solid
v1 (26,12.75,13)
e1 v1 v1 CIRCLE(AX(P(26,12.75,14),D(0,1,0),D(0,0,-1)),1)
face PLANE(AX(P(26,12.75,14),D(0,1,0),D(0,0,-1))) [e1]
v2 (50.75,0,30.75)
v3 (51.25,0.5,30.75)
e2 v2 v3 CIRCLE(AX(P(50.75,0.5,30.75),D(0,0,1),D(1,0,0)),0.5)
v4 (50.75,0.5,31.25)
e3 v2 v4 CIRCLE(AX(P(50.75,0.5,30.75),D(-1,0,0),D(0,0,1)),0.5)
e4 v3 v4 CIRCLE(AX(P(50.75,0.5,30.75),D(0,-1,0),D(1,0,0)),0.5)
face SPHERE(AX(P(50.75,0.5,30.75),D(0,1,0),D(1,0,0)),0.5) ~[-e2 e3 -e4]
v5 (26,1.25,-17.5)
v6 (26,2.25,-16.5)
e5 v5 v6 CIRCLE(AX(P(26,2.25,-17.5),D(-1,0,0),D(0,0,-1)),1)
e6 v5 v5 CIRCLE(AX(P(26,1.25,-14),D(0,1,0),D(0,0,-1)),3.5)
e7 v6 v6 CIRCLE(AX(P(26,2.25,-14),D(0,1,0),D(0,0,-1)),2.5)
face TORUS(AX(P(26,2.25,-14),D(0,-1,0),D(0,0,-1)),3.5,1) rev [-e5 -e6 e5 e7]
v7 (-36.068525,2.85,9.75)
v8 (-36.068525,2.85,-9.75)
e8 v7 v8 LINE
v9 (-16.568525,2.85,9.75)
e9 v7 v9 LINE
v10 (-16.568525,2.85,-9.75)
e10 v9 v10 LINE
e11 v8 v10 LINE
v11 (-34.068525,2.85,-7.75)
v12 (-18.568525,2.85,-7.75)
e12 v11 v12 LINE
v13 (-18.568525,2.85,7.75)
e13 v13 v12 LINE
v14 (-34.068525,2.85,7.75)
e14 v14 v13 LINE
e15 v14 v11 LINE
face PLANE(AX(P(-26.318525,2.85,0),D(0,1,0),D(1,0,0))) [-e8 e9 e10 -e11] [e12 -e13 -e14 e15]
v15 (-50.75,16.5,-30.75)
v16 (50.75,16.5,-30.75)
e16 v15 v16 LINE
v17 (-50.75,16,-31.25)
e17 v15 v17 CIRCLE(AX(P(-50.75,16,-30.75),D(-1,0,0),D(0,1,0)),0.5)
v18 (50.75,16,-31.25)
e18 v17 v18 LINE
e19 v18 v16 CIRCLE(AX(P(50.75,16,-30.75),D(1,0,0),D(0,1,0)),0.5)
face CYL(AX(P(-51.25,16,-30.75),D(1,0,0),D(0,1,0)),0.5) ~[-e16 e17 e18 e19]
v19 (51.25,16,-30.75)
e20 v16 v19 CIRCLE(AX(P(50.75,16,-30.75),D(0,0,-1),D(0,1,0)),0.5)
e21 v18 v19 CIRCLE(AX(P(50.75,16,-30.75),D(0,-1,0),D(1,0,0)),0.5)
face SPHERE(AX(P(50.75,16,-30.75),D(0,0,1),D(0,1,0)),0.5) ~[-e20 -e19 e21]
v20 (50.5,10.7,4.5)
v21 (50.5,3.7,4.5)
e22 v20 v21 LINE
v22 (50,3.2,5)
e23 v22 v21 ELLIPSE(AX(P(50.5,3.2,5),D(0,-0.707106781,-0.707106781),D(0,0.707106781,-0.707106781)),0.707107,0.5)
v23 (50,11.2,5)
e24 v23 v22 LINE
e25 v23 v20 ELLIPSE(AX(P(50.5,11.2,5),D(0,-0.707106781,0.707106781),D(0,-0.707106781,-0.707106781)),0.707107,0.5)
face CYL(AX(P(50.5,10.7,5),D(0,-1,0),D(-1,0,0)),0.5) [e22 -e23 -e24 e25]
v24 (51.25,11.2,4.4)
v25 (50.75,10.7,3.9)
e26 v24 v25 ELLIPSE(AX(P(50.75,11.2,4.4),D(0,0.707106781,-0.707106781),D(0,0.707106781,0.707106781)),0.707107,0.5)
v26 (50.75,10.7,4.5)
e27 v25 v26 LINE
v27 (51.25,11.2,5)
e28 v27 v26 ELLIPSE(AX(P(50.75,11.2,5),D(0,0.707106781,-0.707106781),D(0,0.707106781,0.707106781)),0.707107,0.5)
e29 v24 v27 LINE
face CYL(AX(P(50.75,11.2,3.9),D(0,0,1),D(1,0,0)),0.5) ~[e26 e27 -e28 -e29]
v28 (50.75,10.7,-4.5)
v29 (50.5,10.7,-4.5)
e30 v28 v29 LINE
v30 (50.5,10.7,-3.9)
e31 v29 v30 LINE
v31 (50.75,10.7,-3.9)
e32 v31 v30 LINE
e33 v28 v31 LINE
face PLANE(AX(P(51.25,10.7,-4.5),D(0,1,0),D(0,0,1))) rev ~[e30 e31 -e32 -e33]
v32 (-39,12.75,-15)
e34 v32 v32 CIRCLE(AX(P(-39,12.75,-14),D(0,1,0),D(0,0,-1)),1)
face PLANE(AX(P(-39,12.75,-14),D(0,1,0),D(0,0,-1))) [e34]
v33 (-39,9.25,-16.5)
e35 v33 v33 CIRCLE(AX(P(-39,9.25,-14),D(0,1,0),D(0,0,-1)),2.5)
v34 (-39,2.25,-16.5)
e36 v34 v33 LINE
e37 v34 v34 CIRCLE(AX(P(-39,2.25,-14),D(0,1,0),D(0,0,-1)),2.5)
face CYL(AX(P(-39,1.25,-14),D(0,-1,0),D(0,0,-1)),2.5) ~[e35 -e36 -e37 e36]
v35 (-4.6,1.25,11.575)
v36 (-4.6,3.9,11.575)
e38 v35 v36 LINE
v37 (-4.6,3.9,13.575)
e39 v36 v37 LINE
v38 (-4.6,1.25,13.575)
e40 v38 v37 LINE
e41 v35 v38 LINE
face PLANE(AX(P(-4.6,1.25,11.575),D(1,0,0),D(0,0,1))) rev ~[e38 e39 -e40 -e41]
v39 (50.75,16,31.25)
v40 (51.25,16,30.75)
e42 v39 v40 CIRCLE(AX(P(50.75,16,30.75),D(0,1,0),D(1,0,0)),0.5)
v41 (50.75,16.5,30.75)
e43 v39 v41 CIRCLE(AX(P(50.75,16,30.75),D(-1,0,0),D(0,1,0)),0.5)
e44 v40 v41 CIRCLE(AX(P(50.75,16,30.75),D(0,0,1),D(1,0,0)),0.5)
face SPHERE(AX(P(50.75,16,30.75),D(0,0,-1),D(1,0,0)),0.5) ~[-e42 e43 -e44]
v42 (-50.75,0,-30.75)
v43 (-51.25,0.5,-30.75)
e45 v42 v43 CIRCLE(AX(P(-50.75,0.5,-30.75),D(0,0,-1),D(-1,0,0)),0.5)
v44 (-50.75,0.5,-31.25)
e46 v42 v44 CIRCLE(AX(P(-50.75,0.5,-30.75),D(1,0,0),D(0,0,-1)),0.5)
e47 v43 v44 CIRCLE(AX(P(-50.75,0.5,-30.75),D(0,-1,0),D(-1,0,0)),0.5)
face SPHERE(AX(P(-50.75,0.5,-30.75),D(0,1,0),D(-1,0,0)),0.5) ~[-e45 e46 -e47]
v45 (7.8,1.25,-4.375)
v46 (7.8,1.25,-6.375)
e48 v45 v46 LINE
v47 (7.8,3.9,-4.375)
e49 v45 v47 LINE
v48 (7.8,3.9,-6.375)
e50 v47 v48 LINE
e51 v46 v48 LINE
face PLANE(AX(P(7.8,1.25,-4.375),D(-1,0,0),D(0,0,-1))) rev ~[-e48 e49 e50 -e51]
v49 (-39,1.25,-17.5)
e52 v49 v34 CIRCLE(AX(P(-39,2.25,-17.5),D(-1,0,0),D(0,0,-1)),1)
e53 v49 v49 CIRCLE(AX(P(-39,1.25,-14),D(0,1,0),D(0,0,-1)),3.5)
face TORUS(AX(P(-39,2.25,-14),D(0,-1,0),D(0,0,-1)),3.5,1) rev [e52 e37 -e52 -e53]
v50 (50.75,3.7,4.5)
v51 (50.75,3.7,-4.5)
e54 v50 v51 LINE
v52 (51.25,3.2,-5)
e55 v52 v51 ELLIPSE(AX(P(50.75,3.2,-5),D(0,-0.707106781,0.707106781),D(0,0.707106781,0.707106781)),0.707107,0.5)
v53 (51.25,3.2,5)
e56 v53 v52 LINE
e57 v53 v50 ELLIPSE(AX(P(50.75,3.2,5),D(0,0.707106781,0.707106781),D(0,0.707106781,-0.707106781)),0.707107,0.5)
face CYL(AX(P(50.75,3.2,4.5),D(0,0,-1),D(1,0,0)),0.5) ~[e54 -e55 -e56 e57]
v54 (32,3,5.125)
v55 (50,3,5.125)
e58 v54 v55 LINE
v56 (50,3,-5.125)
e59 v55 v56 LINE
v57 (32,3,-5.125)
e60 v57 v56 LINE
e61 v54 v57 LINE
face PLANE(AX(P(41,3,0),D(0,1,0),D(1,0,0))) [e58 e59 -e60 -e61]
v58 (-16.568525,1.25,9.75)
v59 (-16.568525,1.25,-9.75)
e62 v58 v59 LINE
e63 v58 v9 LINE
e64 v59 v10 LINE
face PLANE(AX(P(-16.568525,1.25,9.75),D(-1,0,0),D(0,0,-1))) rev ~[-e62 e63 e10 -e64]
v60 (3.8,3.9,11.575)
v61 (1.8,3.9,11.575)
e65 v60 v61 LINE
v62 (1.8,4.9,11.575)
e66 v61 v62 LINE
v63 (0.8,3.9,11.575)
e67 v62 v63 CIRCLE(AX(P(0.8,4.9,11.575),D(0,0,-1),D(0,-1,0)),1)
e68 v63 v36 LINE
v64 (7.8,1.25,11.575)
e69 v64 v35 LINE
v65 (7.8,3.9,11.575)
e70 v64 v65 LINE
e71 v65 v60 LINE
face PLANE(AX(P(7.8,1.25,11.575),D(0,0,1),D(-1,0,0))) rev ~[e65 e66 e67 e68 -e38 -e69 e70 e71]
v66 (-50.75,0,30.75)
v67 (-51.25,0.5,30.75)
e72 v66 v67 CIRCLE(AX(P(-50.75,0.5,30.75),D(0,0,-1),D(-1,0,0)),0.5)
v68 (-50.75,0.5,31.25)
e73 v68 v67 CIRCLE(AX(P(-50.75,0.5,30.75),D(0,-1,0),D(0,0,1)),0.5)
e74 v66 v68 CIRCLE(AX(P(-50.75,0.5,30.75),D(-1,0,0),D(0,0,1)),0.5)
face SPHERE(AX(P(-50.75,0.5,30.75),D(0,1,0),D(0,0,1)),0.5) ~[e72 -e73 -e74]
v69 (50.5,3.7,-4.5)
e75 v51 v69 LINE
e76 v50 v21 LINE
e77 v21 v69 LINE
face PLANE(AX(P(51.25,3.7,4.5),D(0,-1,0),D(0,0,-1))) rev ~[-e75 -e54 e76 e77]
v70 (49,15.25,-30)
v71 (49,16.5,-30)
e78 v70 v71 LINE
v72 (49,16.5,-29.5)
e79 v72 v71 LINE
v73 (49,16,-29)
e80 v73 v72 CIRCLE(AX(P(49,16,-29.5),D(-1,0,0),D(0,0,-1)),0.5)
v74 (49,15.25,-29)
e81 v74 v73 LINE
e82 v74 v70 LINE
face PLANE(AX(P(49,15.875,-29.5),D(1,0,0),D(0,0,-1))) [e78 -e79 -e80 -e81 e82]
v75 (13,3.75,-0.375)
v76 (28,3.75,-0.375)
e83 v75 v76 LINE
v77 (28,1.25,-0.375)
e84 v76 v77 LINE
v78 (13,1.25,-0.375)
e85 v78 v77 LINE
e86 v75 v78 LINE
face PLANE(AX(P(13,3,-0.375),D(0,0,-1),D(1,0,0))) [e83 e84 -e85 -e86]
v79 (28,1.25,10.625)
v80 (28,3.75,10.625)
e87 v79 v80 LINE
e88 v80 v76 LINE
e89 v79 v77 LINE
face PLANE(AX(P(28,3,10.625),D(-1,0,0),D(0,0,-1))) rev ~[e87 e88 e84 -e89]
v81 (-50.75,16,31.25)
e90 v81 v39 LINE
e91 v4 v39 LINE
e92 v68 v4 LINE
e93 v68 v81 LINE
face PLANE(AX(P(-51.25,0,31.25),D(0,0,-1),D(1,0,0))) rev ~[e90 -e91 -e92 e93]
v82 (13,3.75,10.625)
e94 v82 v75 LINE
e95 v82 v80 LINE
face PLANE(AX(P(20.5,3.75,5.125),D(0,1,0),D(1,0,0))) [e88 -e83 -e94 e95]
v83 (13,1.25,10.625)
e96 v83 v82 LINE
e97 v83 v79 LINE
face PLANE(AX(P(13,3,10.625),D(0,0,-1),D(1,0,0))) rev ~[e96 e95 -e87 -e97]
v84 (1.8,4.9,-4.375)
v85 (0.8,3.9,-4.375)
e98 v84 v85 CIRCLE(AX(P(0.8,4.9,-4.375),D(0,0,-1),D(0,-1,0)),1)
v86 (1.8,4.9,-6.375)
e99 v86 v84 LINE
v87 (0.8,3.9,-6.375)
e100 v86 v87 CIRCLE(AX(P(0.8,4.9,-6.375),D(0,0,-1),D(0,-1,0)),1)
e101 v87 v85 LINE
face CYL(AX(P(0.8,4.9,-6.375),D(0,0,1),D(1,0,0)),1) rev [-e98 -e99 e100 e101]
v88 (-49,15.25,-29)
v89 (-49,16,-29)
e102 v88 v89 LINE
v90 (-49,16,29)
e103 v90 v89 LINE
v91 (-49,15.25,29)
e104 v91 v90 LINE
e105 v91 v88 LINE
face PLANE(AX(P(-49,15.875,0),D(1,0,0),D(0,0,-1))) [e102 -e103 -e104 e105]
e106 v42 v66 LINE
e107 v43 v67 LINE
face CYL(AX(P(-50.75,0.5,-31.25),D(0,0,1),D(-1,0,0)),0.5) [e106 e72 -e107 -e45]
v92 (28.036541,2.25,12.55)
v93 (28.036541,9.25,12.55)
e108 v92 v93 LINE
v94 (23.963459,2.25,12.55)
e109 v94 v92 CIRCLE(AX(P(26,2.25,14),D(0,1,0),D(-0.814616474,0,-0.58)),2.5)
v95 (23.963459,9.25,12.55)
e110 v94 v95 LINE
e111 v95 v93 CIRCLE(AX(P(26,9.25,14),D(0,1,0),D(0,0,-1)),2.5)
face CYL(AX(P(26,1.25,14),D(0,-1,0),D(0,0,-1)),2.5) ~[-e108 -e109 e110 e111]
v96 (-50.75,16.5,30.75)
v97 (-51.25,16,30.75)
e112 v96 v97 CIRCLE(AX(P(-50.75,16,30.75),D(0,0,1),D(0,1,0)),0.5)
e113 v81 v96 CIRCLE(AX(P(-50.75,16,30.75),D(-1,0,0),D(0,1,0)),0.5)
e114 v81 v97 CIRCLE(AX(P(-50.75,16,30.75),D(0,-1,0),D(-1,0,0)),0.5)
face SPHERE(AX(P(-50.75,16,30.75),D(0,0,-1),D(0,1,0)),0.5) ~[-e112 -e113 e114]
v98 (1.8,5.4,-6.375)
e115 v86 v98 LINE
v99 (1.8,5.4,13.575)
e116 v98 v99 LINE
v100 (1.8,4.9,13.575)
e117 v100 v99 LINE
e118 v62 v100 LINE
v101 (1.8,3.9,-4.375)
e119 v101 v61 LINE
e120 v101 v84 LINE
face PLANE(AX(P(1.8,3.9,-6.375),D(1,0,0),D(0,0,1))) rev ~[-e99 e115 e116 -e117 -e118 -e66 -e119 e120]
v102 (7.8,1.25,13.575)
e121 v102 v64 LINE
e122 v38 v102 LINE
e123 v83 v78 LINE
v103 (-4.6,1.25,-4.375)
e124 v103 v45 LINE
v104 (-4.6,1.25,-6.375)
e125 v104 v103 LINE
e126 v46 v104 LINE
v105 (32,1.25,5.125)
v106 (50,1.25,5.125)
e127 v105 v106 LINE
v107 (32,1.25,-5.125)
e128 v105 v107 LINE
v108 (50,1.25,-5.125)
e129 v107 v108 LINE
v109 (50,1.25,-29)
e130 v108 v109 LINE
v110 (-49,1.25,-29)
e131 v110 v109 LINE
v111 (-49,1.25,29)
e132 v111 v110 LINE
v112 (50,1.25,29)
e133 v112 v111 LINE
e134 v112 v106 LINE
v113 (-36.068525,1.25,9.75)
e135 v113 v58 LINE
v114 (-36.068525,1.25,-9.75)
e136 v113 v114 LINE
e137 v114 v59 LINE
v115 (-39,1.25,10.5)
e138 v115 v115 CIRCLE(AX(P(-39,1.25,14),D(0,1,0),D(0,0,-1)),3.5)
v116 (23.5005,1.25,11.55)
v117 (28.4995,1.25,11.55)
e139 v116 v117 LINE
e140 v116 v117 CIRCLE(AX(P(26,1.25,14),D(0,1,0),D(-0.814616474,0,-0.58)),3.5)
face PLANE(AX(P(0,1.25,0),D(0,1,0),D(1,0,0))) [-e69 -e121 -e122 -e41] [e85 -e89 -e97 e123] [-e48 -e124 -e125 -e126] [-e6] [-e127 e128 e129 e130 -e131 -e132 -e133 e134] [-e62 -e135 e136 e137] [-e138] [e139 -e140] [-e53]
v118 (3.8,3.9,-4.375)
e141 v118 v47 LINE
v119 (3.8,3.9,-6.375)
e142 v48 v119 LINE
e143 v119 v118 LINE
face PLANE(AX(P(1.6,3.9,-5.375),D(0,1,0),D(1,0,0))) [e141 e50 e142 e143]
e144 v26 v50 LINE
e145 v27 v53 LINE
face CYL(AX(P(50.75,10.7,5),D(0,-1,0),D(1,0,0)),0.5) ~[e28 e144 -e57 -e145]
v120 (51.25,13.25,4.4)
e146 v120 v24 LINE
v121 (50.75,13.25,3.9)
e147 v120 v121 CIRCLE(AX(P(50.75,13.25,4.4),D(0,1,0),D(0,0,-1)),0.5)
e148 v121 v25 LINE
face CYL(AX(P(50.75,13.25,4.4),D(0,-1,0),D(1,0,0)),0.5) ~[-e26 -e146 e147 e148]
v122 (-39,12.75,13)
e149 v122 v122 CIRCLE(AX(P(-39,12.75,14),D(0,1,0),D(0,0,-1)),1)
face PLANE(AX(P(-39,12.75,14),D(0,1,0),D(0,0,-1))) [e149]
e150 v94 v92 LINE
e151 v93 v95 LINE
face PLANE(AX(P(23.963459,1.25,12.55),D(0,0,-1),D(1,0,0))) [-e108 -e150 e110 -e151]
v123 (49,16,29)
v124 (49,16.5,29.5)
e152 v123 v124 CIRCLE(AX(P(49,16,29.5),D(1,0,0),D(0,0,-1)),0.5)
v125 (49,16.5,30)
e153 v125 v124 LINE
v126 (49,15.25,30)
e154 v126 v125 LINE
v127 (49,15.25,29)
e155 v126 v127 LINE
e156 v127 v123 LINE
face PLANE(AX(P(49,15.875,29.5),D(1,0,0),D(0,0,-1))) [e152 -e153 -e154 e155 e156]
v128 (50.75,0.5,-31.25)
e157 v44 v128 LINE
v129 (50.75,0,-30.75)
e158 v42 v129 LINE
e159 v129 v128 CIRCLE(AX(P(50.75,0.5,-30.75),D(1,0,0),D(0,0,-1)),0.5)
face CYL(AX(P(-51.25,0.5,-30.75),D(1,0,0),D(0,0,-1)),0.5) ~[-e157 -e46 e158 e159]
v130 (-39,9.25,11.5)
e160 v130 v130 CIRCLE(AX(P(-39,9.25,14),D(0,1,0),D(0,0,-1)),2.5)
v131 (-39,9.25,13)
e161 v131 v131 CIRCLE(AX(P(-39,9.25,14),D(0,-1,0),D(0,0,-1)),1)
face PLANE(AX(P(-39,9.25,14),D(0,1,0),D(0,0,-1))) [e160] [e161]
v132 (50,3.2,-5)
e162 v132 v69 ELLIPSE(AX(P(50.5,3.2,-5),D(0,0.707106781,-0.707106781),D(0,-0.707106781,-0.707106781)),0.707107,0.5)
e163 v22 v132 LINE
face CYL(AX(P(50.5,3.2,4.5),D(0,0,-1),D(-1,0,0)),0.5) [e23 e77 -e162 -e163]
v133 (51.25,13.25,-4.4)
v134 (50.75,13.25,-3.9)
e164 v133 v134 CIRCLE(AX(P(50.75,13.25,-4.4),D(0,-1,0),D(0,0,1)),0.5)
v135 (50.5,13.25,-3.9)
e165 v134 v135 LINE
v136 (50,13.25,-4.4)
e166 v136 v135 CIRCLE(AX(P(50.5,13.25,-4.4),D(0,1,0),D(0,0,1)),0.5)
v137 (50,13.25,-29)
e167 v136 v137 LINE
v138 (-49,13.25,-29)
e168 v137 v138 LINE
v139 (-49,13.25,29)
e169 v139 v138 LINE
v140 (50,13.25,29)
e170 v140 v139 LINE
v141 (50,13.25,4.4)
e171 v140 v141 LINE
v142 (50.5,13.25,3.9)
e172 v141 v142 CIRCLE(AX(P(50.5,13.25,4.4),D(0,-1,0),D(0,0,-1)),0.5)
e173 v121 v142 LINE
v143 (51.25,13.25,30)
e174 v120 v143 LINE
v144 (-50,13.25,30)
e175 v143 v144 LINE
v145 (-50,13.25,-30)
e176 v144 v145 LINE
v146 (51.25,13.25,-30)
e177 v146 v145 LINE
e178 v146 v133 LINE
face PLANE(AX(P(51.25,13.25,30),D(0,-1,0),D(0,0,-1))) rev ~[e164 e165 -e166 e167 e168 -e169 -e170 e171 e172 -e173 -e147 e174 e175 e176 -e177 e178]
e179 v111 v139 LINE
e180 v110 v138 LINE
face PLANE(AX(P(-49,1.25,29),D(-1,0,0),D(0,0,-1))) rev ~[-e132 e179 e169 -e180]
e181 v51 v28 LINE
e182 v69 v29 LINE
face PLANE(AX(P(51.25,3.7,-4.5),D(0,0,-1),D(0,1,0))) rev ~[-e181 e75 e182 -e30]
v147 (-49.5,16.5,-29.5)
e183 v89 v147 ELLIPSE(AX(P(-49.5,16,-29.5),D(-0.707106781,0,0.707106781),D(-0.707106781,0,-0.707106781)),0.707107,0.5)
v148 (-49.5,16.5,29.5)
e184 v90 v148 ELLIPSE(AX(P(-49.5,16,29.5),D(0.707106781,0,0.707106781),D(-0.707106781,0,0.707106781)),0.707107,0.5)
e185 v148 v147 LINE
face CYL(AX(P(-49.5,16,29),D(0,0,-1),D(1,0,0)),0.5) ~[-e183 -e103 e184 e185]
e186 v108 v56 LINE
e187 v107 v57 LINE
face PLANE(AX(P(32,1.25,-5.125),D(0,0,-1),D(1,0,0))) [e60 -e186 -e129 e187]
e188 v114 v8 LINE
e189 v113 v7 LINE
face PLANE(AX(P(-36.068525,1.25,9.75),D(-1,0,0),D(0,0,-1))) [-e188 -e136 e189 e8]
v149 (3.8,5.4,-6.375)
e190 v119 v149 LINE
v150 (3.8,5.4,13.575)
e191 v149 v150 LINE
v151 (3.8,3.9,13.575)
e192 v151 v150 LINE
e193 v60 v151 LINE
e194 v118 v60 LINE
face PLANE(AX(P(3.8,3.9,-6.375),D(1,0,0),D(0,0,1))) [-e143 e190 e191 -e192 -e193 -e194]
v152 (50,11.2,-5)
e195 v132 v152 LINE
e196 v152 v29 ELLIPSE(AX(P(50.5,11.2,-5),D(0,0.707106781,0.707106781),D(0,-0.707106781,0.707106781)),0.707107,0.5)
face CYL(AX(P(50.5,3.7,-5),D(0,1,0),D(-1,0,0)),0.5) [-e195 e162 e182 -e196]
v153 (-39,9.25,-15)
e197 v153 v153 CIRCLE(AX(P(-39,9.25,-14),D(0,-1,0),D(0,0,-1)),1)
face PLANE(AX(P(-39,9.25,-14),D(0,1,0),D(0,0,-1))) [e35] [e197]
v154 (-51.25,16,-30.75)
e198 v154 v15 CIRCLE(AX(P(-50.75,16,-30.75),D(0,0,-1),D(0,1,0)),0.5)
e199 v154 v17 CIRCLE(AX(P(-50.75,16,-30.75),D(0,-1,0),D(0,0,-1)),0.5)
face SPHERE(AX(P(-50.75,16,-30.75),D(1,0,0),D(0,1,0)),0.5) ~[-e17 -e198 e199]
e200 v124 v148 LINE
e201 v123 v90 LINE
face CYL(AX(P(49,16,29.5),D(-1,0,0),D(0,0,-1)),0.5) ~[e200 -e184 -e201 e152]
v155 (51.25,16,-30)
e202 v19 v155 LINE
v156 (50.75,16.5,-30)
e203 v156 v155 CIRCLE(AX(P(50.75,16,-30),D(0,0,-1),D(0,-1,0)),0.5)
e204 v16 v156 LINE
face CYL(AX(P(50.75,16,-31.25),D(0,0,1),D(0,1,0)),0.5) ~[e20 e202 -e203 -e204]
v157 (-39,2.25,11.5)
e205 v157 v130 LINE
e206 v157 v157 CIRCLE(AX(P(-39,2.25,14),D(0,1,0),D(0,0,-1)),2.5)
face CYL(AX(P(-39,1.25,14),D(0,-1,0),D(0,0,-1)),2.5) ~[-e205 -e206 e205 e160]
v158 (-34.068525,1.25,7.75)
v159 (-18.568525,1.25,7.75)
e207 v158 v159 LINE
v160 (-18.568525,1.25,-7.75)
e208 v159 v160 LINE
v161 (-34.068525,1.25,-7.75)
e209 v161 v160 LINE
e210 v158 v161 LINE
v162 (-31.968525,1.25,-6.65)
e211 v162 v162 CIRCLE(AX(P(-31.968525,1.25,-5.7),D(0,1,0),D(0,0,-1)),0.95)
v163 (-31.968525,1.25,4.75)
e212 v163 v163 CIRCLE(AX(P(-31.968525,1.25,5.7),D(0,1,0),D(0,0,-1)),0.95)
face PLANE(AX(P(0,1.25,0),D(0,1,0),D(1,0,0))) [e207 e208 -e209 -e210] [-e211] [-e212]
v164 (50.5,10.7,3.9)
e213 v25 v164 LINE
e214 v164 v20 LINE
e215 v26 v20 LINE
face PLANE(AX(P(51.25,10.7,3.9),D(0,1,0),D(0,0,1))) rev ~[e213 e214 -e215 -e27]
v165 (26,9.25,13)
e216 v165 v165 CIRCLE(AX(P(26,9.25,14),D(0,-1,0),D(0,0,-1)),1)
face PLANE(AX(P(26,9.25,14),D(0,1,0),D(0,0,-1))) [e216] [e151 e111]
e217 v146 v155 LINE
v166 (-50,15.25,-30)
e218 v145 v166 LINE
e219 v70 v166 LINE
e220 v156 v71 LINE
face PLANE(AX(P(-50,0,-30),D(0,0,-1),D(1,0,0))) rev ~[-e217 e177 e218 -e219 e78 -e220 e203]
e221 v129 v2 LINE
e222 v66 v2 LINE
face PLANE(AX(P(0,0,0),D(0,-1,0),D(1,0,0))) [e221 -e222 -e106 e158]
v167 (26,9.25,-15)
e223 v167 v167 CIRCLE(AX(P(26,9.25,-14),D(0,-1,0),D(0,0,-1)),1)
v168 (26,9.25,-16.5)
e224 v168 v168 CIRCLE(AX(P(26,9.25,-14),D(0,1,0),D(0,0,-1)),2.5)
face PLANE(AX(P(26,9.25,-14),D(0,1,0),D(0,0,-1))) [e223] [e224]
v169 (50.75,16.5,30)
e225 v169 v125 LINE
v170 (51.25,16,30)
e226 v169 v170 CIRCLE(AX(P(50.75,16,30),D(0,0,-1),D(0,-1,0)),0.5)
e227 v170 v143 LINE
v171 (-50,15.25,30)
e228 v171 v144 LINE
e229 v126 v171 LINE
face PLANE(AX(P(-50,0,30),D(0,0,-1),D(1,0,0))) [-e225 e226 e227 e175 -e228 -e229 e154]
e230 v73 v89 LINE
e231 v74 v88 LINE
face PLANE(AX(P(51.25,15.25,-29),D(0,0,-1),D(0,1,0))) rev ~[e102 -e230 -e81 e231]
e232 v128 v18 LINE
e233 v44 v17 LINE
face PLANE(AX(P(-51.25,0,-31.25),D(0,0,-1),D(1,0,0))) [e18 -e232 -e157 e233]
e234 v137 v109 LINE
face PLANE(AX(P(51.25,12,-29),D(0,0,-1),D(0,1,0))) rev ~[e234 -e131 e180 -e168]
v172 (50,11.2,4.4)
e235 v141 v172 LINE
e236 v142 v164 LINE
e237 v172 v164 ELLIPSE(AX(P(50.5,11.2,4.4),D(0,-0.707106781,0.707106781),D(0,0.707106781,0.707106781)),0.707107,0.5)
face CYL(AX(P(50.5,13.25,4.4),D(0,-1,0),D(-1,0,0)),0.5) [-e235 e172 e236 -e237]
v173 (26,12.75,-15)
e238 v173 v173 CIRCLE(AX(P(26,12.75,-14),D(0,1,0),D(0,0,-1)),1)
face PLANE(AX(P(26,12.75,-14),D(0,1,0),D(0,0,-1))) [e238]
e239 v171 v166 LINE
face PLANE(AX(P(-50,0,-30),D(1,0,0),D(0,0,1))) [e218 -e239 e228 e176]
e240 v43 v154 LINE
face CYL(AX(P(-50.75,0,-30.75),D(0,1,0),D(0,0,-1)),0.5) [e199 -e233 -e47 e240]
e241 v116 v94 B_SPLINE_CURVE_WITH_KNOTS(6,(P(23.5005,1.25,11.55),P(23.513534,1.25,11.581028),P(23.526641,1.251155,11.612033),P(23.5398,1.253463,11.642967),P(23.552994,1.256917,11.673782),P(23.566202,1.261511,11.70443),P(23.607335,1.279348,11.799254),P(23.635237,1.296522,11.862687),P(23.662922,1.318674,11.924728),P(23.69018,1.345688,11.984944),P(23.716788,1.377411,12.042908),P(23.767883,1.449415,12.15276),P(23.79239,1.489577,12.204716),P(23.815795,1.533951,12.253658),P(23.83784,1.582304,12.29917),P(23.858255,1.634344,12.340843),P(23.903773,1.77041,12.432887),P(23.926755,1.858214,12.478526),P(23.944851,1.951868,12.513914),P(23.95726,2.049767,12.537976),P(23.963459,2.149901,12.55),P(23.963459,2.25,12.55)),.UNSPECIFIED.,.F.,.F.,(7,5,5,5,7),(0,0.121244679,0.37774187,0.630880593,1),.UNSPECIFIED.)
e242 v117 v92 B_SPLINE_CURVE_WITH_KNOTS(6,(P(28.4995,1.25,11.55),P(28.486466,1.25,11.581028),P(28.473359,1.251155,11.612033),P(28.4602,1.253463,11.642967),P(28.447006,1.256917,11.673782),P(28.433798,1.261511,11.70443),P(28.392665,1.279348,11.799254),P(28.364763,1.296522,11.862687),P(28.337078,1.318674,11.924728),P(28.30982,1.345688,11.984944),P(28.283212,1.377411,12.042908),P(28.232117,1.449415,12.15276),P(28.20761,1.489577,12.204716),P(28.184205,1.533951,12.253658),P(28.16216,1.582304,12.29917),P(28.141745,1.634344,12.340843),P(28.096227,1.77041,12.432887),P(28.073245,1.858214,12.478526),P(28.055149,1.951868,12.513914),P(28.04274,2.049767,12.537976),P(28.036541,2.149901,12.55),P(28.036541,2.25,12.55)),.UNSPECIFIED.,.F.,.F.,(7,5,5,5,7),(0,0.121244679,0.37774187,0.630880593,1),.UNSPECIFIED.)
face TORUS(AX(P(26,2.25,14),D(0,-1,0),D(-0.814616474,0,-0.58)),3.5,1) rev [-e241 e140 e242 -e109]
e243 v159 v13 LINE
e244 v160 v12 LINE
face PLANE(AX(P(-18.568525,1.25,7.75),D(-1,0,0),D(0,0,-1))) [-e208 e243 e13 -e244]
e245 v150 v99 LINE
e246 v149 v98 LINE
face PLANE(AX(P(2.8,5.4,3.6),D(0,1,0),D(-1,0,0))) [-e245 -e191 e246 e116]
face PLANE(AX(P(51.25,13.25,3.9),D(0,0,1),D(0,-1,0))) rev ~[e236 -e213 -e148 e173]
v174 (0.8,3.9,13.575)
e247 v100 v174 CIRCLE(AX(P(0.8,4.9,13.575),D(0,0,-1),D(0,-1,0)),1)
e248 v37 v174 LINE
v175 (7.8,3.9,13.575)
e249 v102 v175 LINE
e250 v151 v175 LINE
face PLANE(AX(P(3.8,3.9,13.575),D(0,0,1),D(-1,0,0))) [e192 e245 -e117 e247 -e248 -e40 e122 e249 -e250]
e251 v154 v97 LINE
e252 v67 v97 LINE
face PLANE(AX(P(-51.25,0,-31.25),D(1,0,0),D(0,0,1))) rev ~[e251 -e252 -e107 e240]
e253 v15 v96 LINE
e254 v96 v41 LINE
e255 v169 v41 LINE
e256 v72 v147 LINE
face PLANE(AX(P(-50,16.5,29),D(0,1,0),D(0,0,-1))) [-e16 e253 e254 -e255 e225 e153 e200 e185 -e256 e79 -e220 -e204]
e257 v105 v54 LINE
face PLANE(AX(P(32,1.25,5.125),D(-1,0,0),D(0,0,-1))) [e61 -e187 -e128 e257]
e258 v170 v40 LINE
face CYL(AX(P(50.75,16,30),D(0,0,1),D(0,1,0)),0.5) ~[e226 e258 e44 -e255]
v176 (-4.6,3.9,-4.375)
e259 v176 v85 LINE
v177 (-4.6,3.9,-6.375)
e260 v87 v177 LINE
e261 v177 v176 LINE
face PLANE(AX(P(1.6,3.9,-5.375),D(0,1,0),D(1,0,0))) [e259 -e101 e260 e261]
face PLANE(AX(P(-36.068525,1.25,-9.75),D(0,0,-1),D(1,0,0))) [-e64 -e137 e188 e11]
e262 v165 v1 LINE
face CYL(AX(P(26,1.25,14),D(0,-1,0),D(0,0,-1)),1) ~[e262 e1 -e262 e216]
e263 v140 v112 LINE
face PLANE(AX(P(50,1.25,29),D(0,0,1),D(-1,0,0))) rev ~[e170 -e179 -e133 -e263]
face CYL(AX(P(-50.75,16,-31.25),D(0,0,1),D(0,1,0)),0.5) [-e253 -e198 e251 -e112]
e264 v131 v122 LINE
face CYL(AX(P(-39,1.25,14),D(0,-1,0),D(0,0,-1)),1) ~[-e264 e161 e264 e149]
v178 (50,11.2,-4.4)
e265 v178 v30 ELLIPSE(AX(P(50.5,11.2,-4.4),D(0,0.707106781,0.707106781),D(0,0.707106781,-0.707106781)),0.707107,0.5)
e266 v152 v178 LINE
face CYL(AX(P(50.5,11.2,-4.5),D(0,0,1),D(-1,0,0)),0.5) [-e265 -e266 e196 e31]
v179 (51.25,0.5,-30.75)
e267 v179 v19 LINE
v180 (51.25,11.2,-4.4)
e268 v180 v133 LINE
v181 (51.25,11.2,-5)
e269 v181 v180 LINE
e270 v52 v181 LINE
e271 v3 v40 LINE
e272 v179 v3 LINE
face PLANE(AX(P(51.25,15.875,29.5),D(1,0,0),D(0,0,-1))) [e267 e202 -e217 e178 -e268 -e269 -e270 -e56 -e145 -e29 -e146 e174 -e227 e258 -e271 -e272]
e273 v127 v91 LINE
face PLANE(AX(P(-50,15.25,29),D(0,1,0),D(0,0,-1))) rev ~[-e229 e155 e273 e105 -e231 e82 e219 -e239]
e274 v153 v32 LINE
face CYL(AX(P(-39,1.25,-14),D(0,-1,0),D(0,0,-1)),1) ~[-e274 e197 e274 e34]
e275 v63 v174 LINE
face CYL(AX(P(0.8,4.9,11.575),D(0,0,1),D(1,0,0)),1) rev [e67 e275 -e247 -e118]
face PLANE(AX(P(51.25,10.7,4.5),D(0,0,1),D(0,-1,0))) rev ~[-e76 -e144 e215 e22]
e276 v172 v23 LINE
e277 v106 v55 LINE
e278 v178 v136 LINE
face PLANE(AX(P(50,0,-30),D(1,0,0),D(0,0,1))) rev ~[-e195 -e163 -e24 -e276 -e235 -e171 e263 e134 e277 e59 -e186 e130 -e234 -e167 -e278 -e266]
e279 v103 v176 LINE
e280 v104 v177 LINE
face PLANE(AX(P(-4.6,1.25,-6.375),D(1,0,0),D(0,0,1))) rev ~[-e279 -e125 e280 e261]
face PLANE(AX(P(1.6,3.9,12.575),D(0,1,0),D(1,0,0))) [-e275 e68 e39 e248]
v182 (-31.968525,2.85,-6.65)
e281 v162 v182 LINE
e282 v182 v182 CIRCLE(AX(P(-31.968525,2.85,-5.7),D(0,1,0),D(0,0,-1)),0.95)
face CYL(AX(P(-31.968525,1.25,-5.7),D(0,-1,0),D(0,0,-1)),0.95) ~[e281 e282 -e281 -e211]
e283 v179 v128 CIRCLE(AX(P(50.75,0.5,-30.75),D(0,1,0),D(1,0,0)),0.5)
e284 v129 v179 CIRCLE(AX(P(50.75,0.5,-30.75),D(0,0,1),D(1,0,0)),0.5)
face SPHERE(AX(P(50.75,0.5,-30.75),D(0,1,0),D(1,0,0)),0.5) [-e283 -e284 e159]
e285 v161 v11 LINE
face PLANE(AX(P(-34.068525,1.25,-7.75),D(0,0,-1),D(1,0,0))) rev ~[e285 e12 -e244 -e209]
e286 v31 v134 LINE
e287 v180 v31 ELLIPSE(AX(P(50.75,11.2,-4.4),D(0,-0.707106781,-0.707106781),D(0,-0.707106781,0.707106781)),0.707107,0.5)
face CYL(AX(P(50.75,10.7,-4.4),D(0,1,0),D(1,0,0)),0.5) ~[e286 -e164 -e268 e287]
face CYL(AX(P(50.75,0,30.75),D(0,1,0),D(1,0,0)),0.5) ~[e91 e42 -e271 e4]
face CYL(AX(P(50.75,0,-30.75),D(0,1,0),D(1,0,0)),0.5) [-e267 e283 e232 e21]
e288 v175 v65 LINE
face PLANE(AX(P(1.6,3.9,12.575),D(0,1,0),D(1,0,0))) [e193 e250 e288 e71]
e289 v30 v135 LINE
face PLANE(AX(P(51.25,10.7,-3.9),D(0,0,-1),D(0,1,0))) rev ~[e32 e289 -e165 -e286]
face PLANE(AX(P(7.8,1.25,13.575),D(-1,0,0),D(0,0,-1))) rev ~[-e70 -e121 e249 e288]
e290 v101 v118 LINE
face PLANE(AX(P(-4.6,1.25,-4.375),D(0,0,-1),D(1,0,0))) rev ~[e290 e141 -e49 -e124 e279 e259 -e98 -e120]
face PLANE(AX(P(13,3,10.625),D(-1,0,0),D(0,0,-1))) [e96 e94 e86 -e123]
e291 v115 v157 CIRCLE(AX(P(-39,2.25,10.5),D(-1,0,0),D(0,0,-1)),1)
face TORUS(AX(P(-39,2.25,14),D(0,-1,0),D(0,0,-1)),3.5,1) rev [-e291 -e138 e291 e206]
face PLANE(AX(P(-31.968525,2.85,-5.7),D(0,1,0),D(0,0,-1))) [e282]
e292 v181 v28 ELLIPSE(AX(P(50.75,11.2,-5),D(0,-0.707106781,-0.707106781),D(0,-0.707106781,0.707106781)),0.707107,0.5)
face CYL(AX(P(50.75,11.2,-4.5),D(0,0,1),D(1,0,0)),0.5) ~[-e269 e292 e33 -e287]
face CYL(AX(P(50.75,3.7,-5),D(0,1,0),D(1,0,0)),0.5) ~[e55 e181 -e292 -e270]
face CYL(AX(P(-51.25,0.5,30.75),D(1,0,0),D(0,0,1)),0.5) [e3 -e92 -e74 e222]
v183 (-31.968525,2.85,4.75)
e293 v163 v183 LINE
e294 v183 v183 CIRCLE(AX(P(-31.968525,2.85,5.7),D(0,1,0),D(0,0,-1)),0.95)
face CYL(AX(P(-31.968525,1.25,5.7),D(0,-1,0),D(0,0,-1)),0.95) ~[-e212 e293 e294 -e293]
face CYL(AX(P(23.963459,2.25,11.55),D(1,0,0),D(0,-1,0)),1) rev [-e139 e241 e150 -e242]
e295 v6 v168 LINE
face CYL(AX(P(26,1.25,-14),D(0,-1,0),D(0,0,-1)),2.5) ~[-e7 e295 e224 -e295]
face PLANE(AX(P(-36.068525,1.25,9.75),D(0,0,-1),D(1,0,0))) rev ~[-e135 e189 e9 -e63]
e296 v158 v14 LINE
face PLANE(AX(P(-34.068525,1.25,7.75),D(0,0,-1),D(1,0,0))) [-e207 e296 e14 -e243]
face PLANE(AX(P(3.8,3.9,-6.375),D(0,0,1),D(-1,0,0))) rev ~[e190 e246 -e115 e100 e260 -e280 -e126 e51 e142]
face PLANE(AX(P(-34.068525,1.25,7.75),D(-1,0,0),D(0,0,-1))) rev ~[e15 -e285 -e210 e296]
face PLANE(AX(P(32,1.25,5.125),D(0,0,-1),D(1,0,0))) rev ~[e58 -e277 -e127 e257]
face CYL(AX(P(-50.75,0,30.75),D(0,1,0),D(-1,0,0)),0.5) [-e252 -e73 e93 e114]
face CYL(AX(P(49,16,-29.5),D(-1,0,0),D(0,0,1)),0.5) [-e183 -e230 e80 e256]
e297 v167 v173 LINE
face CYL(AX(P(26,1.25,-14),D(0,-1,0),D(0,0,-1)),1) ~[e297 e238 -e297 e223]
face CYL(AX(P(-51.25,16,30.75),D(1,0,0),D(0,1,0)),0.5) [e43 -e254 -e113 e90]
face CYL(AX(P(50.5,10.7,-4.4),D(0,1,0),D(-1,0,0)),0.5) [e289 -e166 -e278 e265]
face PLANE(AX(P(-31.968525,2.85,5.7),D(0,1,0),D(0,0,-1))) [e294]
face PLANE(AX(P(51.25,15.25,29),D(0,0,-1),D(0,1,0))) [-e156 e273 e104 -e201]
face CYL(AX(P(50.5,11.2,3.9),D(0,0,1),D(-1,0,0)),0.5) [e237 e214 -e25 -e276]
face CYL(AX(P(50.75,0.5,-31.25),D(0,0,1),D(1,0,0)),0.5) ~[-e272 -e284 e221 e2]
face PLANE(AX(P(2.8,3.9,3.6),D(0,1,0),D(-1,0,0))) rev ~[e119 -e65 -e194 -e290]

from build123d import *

# Parameters (mm, degrees)
SKETCH_1_W          = 100
SKETCH_1_H          = 60
EXTRUDE_1_DEPTH     = 1.25
SKETCH_2_R          = 1
EXTRUDE_2_DEPTH     = 11.5
SKETCH_4_W          = 102.5
SKETCH_4_H          = 62.5
SKETCH_4_W_2        = 100
SKETCH_4_H_2        = 60
EXTRUDE_3_DEPTH     = 16.5
SKETCH_6_R          = 2.5
EXTRUDE_4_DEPTH     = 8
SKETCH_10_W         = 60
SKETCH_10_H         = 3.25
CUT_EXTRUDE_2_DEPTH = 101.25
SKETCH_11_W         = 1
SKETCH_11_H         = 1.25
EXTRUDE_8_DEPTH     = 101.25
SKETCH_12_W         = 1
SKETCH_12_H         = 1.25
CUT_EXTRUDE_5_DEPTH = 2.25
SKETCH_13_W         = 58
SKETCH_13_H         = 1.25
EXTRUDE_9_DEPTH     = 1
CUT_EXTRUDE_6_DEPTH = 1.75
FILLET_2_R          = 0.5
SKETCH_15_W         = 19.5
SKETCH_15_H         = 19.5
SKETCH_15_W_2       = 15.5
SKETCH_15_H_2       = 15.5
SKETCH_15_R         = 0.95
EXTRUDE_11_DEPTH    = 1.6
SKETCH_16_W         = 18
SKETCH_16_H         = 10.25
SKETCH_16_W_2       = 15
SKETCH_16_H_2       = 11
EXTRUDE_12_DEPTH    = 1.75
EXTRUDE_13_DEPTH    = 2.65
CUT_EXTRUDE_7_DEPTH = 62.93292743
FILLET_3_R          = 1
SKETCH_20_W         = 2
SKETCH_20_H         = 19.95
EXTRUDE_14_DEPTH    = 1.5
SKETCH_21_W         = 15
SKETCH_21_H         = 11
EXTRUDE_15_DEPTH    = 0.75
EXTRUDE_16_DEPTH    = 10.75
FILLET_4_R          = 1


with BuildPart() as part:
    # ｽｹｯﾁ1 → ﾎﾞｽ - 押し出し1 (new body)
    with BuildSketch(Plane(origin=(0, 0, 0), x_dir=(1, 0, 0), z_dir=(0, 1, 0))):
        Rectangle(SKETCH_1_W, SKETCH_1_H)
    extrude(amount=EXTRUDE_1_DEPTH)

    # ｽｹｯﾁ2 → ﾎﾞｽ - 押し出し2 (add)
    with BuildSketch(Plane(origin=(0, 1.25, 0), x_dir=(1, 0, 0), z_dir=(0, 1, 0))):
        with Locations(Location((-39, 14, 0), (0, 0, 90))):
            Circle(SKETCH_2_R)
        with Locations(Location((26, 14, 0), (0, 0, 90))):
            Circle(SKETCH_2_R)
        with Locations(Location((26, -14, 0), (0, 0, 90))):
            Circle(SKETCH_2_R)
        with Locations(Location((-39, -14, 0), (0, 0, 90))):
            Circle(SKETCH_2_R)
    extrude(amount=EXTRUDE_2_DEPTH)

    # ｽｹｯﾁ4 → ﾎﾞｽ - 押し出し3 (add)
    with BuildSketch(Plane.XZ):
        Rectangle(SKETCH_4_W, SKETCH_4_H)
        Rectangle(SKETCH_4_W_2, SKETCH_4_H_2, mode=Mode.SUBTRACT)
    extrude(amount=-EXTRUDE_3_DEPTH)

    # ｽｹｯﾁ6 → ﾎﾞｽ - 押し出し4 (add)
    with BuildSketch(Plane(origin=(0, 1.25, 0), x_dir=(1, 0, 0), z_dir=(0, 1, 0))):
        with Locations(Location((-39, 14, 0), (0, 0, 90))):
            Circle(SKETCH_6_R)
        with Locations(Location((26, 14, 0), (0, 0, 90))):
            Circle(SKETCH_6_R)
        with Locations(Location((26, -14, 0), (0, 0, 90))):
            Circle(SKETCH_6_R)
        with Locations(Location((-39, -14, 0), (0, 0, 90))):
            Circle(SKETCH_6_R)
    extrude(amount=EXTRUDE_4_DEPTH)

    # ｽｹｯﾁ10 → ｶｯﾄ - 押し出し2 (cut)
    with BuildSketch(Plane(origin=(51.25, 0, 0), x_dir=(0, 0, -1), z_dir=(1, 0, 0))):
        with Locations((0, 14.875)):
            Rectangle(SKETCH_10_W, SKETCH_10_H)
    extrude(amount=-CUT_EXTRUDE_2_DEPTH, mode=Mode.SUBTRACT)

    # ｽｹｯﾁ11 → ﾎﾞｽ - 押し出し8 (add)
    with BuildSketch(Plane(origin=(51.25, 0, 0), x_dir=(0, 0, -1), z_dir=(1, 0, 0))):
        with Locations((-29.5, 15.875)):
            Rectangle(SKETCH_11_W, SKETCH_11_H)
        with Locations((29.5, 15.875)):
            Rectangle(SKETCH_11_W, SKETCH_11_H)
        with Locations((-29.5, 12.625)):
            Rectangle(SKETCH_11_W, SKETCH_11_H)
        with Locations((29.5, 12.625)):
            Rectangle(SKETCH_11_W, SKETCH_11_H)
    extrude(amount=-EXTRUDE_8_DEPTH)

    # ｽｹｯﾁ12 → ｶｯﾄ - 押し出し5 (cut)
    with BuildSketch(Plane(origin=(51.25, 0, 0), x_dir=(0, 0, -1), z_dir=(1, 0, 0))):
        with Locations((-29.5, 15.875)):
            Rectangle(SKETCH_12_W, SKETCH_12_H)
        with Locations((29.5, 15.875)):
            Rectangle(SKETCH_12_W, SKETCH_12_H)
    extrude(amount=-CUT_EXTRUDE_5_DEPTH, mode=Mode.SUBTRACT)

    # ｽｹｯﾁ13 → ﾎﾞｽ - 押し出し9 (add)
    with BuildSketch(Plane(origin=(-50, 0, 0), x_dir=(0, 0, -1), z_dir=(1, 0, 0))):
        with Locations((0, 15.875)):
            Rectangle(SKETCH_13_W, SKETCH_13_H)
        with Locations((0, 12.625)):
            Rectangle(SKETCH_13_W, SKETCH_13_H)
    extrude(amount=EXTRUDE_9_DEPTH)

    # ｽｹｯﾁ14 → ｶｯﾄ - 押し出し6 (cut)
    with BuildSketch(Plane(origin=(51.25, 0, 0), x_dir=(0, 0, -1), z_dir=(1, 0, 0))):
        Polygon((0, 13.25), (-3.9, 13.25), (-3.9, 10.7), (-4.5, 10.7), (-4.5, 3.7), (0, 3.7), align=None)
        Polygon((3.9, 13.25), (0, 13.25), (0, 3.7), (4.5, 3.7), (4.5, 10.7), (3.9, 10.7), align=None)
    extrude(amount=-CUT_EXTRUDE_6_DEPTH, mode=Mode.SUBTRACT)

    # ﾌｨﾚｯﾄ2
    fillet_2_edges = [part.edges().sort_by_distance(p)[0] for p in [
        (51.25, 16.5, 30.625),
        (0, 16.5, -29),
        (0, 16.5, 29),
        (-49, 16.5, 0),
        (50, 3.7, 0),
        (50, 7.2, 4.5),
        (51.25, 10.7, 4.2),
        (51.25, 10.7, -4.2),
        (51.25, 7.2, -4.5),
        (51.25, 11.975, 3.9),
        (51.25, 11.975, -3.9),
        (50, 10.7, 4.2),
        (50, 11.975, 3.9),
        (50, 11.975, -3.9),
        (50, 10.7, -4.2),
        (50, 7.2, -4.5),
        (51.25, 3.7, 0),
        (51.25, 7.2, 4.5),
        (51.25, 16.5, -30.625),
        (51.25, 8.25, 31.25),
        (0, 16.5, -31.25),
        (51.25, 8.25, -31.25),
        (-51.25, 16.5, 0),
        (-51.25, 8.25, -31.25),
        (0, 16.5, 31.25),
        (-51.25, 8.25, 31.25),
        (51.25, 0, 0),
        (0, 0, 31.25),
        (-51.25, 0, 0),
        (0, 0, -31.25),
    ]]
    fillet(fillet_2_edges, radius=FILLET_2_R)

    # ｽｹｯﾁ15 → ﾎﾞｽ - 押し出し11 (add)
    # profile 1 of 3: a face of its own
    with BuildSketch(Plane(origin=(0, 1.25, 0), x_dir=(1, 0, 0), z_dir=(0, 1, 0))):
        with Locations((-26.318525092, 0)):
            Rectangle(SKETCH_15_W, SKETCH_15_H)
        with Locations((-26.318525092, 0)):
            Rectangle(SKETCH_15_W_2, SKETCH_15_H_2, mode=Mode.SUBTRACT)
    # profile 2 of 3: a face of its own
    with BuildSketch(Plane(origin=(0, 1.25, 0), x_dir=(1, 0, 0), z_dir=(0, 1, 0))):
        with Locations(Location((-31.968525092, -5.7, 0), (0, 0, 90))):
            Circle(SKETCH_15_R)
    # profile 3 of 3: a face of its own
    with BuildSketch(Plane(origin=(0, 1.25, 0), x_dir=(1, 0, 0), z_dir=(0, 1, 0))):
        with Locations(Location((-31.968525092, 5.7, 0), (0, 0, 90))):
            Circle(SKETCH_15_R)
    extrude(amount=EXTRUDE_11_DEPTH)

    # ｽｹｯﾁ16 → ﾎﾞｽ - 押し出し12 (add)
    with BuildSketch(Plane(origin=(0, 1.25, 0), x_dir=(1, 0, 0), z_dir=(0, 1, 0))):
        with Locations((41, 0)):
            Rectangle(SKETCH_16_W, SKETCH_16_H)
        with Locations((20.5, -5.125)):
            Rectangle(SKETCH_16_W_2, SKETCH_16_H_2)
    extrude(amount=EXTRUDE_12_DEPTH)

    # ｽｹｯﾁ17 → ﾎﾞｽ - 押し出し13 (add)
    with BuildSketch(Plane(origin=(0, 1.25, 0), x_dir=(1, 0, 0), z_dir=(0, 1, 0))):
        Polygon((7.8, -13.575), (7.8, -11.575), (5.8, -11.575), (-4.6, -11.575), (-4.6, -13.575), align=None)
        Polygon((7.8, 6.375), (-4.6, 6.375), (-4.6, 4.375), (5.8, 4.375), (7.8, 4.375), align=None)
    extrude(amount=EXTRUDE_13_DEPTH)

    # ｽｹｯﾁ19 → ｶｯﾄ - 押し出し7 (cut, through all)
    with BuildSketch(Plane(origin=(0, 1.25, 0), x_dir=(1, 0, 0), z_dir=(0, 1, 0))):
        with BuildLine():
            Line((23.963458815, -12.55), (28.036541185, -12.55))
            ThreePointArc((28.036541185, -12.55), (26, -11.5), (23.963458815, -12.55))
        make_face()
    extrude(amount=CUT_EXTRUDE_7_DEPTH, mode=Mode.SUBTRACT)

    # ﾌｨﾚｯﾄ3
    fillet_3_edges = [part.edges().sort_by_distance(p)[0] for p in [
        (26, 1.25, 12.55),
        (-39, 1.25, -11.5),
        (26, 1.25, -11.5),
        (26, 1.25, 16.5),
        (-39, 1.25, 16.5),
    ]]
    fillet(fillet_3_edges, radius=FILLET_3_R)

    # ｽｹｯﾁ20 → ﾎﾞｽ - 押し出し14 (add)
    with BuildSketch(Plane(origin=(0, 3.9, 0), x_dir=(-1, 0, 0), z_dir=(0, 1, 0))):
        with Locations((-2.8, 3.6)):
            Rectangle(SKETCH_20_W, SKETCH_20_H)
    extrude(amount=EXTRUDE_14_DEPTH)

    # ｽｹｯﾁ21 → ﾎﾞｽ - 押し出し15 (add)
    with BuildSketch(Plane(origin=(0, 3, 0), x_dir=(1, 0, 0), z_dir=(0, 1, 0))):
        with Locations((20.5, -5.125)):
            Rectangle(SKETCH_21_W, SKETCH_21_H)
    extrude(amount=EXTRUDE_15_DEPTH)

    # ｽｹｯﾁ22 → ﾎﾞｽ - 押し出し16 (add)
    with BuildSketch(Plane(origin=(0, 1.25, 0), x_dir=(1, 0, 0), z_dir=(0, 1, 0))):
        Polygon((-50, -30), (50, -30), (50, -29), (-49, -29), (-49, 29), (50, 29), (50, 30), (-50, 30), align=None)
    extrude(amount=EXTRUDE_16_DEPTH)

    # ﾌｨﾚｯﾄ4
    fillet_4_edges = [part.edges().sort_by_distance(p)[0] for p in [
        (1.8, 3.9, -5.375),
        (1.8, 3.9, 12.575),
    ]]
    fillet(fillet_4_edges, radius=FILLET_4_R)


solid = part.part
